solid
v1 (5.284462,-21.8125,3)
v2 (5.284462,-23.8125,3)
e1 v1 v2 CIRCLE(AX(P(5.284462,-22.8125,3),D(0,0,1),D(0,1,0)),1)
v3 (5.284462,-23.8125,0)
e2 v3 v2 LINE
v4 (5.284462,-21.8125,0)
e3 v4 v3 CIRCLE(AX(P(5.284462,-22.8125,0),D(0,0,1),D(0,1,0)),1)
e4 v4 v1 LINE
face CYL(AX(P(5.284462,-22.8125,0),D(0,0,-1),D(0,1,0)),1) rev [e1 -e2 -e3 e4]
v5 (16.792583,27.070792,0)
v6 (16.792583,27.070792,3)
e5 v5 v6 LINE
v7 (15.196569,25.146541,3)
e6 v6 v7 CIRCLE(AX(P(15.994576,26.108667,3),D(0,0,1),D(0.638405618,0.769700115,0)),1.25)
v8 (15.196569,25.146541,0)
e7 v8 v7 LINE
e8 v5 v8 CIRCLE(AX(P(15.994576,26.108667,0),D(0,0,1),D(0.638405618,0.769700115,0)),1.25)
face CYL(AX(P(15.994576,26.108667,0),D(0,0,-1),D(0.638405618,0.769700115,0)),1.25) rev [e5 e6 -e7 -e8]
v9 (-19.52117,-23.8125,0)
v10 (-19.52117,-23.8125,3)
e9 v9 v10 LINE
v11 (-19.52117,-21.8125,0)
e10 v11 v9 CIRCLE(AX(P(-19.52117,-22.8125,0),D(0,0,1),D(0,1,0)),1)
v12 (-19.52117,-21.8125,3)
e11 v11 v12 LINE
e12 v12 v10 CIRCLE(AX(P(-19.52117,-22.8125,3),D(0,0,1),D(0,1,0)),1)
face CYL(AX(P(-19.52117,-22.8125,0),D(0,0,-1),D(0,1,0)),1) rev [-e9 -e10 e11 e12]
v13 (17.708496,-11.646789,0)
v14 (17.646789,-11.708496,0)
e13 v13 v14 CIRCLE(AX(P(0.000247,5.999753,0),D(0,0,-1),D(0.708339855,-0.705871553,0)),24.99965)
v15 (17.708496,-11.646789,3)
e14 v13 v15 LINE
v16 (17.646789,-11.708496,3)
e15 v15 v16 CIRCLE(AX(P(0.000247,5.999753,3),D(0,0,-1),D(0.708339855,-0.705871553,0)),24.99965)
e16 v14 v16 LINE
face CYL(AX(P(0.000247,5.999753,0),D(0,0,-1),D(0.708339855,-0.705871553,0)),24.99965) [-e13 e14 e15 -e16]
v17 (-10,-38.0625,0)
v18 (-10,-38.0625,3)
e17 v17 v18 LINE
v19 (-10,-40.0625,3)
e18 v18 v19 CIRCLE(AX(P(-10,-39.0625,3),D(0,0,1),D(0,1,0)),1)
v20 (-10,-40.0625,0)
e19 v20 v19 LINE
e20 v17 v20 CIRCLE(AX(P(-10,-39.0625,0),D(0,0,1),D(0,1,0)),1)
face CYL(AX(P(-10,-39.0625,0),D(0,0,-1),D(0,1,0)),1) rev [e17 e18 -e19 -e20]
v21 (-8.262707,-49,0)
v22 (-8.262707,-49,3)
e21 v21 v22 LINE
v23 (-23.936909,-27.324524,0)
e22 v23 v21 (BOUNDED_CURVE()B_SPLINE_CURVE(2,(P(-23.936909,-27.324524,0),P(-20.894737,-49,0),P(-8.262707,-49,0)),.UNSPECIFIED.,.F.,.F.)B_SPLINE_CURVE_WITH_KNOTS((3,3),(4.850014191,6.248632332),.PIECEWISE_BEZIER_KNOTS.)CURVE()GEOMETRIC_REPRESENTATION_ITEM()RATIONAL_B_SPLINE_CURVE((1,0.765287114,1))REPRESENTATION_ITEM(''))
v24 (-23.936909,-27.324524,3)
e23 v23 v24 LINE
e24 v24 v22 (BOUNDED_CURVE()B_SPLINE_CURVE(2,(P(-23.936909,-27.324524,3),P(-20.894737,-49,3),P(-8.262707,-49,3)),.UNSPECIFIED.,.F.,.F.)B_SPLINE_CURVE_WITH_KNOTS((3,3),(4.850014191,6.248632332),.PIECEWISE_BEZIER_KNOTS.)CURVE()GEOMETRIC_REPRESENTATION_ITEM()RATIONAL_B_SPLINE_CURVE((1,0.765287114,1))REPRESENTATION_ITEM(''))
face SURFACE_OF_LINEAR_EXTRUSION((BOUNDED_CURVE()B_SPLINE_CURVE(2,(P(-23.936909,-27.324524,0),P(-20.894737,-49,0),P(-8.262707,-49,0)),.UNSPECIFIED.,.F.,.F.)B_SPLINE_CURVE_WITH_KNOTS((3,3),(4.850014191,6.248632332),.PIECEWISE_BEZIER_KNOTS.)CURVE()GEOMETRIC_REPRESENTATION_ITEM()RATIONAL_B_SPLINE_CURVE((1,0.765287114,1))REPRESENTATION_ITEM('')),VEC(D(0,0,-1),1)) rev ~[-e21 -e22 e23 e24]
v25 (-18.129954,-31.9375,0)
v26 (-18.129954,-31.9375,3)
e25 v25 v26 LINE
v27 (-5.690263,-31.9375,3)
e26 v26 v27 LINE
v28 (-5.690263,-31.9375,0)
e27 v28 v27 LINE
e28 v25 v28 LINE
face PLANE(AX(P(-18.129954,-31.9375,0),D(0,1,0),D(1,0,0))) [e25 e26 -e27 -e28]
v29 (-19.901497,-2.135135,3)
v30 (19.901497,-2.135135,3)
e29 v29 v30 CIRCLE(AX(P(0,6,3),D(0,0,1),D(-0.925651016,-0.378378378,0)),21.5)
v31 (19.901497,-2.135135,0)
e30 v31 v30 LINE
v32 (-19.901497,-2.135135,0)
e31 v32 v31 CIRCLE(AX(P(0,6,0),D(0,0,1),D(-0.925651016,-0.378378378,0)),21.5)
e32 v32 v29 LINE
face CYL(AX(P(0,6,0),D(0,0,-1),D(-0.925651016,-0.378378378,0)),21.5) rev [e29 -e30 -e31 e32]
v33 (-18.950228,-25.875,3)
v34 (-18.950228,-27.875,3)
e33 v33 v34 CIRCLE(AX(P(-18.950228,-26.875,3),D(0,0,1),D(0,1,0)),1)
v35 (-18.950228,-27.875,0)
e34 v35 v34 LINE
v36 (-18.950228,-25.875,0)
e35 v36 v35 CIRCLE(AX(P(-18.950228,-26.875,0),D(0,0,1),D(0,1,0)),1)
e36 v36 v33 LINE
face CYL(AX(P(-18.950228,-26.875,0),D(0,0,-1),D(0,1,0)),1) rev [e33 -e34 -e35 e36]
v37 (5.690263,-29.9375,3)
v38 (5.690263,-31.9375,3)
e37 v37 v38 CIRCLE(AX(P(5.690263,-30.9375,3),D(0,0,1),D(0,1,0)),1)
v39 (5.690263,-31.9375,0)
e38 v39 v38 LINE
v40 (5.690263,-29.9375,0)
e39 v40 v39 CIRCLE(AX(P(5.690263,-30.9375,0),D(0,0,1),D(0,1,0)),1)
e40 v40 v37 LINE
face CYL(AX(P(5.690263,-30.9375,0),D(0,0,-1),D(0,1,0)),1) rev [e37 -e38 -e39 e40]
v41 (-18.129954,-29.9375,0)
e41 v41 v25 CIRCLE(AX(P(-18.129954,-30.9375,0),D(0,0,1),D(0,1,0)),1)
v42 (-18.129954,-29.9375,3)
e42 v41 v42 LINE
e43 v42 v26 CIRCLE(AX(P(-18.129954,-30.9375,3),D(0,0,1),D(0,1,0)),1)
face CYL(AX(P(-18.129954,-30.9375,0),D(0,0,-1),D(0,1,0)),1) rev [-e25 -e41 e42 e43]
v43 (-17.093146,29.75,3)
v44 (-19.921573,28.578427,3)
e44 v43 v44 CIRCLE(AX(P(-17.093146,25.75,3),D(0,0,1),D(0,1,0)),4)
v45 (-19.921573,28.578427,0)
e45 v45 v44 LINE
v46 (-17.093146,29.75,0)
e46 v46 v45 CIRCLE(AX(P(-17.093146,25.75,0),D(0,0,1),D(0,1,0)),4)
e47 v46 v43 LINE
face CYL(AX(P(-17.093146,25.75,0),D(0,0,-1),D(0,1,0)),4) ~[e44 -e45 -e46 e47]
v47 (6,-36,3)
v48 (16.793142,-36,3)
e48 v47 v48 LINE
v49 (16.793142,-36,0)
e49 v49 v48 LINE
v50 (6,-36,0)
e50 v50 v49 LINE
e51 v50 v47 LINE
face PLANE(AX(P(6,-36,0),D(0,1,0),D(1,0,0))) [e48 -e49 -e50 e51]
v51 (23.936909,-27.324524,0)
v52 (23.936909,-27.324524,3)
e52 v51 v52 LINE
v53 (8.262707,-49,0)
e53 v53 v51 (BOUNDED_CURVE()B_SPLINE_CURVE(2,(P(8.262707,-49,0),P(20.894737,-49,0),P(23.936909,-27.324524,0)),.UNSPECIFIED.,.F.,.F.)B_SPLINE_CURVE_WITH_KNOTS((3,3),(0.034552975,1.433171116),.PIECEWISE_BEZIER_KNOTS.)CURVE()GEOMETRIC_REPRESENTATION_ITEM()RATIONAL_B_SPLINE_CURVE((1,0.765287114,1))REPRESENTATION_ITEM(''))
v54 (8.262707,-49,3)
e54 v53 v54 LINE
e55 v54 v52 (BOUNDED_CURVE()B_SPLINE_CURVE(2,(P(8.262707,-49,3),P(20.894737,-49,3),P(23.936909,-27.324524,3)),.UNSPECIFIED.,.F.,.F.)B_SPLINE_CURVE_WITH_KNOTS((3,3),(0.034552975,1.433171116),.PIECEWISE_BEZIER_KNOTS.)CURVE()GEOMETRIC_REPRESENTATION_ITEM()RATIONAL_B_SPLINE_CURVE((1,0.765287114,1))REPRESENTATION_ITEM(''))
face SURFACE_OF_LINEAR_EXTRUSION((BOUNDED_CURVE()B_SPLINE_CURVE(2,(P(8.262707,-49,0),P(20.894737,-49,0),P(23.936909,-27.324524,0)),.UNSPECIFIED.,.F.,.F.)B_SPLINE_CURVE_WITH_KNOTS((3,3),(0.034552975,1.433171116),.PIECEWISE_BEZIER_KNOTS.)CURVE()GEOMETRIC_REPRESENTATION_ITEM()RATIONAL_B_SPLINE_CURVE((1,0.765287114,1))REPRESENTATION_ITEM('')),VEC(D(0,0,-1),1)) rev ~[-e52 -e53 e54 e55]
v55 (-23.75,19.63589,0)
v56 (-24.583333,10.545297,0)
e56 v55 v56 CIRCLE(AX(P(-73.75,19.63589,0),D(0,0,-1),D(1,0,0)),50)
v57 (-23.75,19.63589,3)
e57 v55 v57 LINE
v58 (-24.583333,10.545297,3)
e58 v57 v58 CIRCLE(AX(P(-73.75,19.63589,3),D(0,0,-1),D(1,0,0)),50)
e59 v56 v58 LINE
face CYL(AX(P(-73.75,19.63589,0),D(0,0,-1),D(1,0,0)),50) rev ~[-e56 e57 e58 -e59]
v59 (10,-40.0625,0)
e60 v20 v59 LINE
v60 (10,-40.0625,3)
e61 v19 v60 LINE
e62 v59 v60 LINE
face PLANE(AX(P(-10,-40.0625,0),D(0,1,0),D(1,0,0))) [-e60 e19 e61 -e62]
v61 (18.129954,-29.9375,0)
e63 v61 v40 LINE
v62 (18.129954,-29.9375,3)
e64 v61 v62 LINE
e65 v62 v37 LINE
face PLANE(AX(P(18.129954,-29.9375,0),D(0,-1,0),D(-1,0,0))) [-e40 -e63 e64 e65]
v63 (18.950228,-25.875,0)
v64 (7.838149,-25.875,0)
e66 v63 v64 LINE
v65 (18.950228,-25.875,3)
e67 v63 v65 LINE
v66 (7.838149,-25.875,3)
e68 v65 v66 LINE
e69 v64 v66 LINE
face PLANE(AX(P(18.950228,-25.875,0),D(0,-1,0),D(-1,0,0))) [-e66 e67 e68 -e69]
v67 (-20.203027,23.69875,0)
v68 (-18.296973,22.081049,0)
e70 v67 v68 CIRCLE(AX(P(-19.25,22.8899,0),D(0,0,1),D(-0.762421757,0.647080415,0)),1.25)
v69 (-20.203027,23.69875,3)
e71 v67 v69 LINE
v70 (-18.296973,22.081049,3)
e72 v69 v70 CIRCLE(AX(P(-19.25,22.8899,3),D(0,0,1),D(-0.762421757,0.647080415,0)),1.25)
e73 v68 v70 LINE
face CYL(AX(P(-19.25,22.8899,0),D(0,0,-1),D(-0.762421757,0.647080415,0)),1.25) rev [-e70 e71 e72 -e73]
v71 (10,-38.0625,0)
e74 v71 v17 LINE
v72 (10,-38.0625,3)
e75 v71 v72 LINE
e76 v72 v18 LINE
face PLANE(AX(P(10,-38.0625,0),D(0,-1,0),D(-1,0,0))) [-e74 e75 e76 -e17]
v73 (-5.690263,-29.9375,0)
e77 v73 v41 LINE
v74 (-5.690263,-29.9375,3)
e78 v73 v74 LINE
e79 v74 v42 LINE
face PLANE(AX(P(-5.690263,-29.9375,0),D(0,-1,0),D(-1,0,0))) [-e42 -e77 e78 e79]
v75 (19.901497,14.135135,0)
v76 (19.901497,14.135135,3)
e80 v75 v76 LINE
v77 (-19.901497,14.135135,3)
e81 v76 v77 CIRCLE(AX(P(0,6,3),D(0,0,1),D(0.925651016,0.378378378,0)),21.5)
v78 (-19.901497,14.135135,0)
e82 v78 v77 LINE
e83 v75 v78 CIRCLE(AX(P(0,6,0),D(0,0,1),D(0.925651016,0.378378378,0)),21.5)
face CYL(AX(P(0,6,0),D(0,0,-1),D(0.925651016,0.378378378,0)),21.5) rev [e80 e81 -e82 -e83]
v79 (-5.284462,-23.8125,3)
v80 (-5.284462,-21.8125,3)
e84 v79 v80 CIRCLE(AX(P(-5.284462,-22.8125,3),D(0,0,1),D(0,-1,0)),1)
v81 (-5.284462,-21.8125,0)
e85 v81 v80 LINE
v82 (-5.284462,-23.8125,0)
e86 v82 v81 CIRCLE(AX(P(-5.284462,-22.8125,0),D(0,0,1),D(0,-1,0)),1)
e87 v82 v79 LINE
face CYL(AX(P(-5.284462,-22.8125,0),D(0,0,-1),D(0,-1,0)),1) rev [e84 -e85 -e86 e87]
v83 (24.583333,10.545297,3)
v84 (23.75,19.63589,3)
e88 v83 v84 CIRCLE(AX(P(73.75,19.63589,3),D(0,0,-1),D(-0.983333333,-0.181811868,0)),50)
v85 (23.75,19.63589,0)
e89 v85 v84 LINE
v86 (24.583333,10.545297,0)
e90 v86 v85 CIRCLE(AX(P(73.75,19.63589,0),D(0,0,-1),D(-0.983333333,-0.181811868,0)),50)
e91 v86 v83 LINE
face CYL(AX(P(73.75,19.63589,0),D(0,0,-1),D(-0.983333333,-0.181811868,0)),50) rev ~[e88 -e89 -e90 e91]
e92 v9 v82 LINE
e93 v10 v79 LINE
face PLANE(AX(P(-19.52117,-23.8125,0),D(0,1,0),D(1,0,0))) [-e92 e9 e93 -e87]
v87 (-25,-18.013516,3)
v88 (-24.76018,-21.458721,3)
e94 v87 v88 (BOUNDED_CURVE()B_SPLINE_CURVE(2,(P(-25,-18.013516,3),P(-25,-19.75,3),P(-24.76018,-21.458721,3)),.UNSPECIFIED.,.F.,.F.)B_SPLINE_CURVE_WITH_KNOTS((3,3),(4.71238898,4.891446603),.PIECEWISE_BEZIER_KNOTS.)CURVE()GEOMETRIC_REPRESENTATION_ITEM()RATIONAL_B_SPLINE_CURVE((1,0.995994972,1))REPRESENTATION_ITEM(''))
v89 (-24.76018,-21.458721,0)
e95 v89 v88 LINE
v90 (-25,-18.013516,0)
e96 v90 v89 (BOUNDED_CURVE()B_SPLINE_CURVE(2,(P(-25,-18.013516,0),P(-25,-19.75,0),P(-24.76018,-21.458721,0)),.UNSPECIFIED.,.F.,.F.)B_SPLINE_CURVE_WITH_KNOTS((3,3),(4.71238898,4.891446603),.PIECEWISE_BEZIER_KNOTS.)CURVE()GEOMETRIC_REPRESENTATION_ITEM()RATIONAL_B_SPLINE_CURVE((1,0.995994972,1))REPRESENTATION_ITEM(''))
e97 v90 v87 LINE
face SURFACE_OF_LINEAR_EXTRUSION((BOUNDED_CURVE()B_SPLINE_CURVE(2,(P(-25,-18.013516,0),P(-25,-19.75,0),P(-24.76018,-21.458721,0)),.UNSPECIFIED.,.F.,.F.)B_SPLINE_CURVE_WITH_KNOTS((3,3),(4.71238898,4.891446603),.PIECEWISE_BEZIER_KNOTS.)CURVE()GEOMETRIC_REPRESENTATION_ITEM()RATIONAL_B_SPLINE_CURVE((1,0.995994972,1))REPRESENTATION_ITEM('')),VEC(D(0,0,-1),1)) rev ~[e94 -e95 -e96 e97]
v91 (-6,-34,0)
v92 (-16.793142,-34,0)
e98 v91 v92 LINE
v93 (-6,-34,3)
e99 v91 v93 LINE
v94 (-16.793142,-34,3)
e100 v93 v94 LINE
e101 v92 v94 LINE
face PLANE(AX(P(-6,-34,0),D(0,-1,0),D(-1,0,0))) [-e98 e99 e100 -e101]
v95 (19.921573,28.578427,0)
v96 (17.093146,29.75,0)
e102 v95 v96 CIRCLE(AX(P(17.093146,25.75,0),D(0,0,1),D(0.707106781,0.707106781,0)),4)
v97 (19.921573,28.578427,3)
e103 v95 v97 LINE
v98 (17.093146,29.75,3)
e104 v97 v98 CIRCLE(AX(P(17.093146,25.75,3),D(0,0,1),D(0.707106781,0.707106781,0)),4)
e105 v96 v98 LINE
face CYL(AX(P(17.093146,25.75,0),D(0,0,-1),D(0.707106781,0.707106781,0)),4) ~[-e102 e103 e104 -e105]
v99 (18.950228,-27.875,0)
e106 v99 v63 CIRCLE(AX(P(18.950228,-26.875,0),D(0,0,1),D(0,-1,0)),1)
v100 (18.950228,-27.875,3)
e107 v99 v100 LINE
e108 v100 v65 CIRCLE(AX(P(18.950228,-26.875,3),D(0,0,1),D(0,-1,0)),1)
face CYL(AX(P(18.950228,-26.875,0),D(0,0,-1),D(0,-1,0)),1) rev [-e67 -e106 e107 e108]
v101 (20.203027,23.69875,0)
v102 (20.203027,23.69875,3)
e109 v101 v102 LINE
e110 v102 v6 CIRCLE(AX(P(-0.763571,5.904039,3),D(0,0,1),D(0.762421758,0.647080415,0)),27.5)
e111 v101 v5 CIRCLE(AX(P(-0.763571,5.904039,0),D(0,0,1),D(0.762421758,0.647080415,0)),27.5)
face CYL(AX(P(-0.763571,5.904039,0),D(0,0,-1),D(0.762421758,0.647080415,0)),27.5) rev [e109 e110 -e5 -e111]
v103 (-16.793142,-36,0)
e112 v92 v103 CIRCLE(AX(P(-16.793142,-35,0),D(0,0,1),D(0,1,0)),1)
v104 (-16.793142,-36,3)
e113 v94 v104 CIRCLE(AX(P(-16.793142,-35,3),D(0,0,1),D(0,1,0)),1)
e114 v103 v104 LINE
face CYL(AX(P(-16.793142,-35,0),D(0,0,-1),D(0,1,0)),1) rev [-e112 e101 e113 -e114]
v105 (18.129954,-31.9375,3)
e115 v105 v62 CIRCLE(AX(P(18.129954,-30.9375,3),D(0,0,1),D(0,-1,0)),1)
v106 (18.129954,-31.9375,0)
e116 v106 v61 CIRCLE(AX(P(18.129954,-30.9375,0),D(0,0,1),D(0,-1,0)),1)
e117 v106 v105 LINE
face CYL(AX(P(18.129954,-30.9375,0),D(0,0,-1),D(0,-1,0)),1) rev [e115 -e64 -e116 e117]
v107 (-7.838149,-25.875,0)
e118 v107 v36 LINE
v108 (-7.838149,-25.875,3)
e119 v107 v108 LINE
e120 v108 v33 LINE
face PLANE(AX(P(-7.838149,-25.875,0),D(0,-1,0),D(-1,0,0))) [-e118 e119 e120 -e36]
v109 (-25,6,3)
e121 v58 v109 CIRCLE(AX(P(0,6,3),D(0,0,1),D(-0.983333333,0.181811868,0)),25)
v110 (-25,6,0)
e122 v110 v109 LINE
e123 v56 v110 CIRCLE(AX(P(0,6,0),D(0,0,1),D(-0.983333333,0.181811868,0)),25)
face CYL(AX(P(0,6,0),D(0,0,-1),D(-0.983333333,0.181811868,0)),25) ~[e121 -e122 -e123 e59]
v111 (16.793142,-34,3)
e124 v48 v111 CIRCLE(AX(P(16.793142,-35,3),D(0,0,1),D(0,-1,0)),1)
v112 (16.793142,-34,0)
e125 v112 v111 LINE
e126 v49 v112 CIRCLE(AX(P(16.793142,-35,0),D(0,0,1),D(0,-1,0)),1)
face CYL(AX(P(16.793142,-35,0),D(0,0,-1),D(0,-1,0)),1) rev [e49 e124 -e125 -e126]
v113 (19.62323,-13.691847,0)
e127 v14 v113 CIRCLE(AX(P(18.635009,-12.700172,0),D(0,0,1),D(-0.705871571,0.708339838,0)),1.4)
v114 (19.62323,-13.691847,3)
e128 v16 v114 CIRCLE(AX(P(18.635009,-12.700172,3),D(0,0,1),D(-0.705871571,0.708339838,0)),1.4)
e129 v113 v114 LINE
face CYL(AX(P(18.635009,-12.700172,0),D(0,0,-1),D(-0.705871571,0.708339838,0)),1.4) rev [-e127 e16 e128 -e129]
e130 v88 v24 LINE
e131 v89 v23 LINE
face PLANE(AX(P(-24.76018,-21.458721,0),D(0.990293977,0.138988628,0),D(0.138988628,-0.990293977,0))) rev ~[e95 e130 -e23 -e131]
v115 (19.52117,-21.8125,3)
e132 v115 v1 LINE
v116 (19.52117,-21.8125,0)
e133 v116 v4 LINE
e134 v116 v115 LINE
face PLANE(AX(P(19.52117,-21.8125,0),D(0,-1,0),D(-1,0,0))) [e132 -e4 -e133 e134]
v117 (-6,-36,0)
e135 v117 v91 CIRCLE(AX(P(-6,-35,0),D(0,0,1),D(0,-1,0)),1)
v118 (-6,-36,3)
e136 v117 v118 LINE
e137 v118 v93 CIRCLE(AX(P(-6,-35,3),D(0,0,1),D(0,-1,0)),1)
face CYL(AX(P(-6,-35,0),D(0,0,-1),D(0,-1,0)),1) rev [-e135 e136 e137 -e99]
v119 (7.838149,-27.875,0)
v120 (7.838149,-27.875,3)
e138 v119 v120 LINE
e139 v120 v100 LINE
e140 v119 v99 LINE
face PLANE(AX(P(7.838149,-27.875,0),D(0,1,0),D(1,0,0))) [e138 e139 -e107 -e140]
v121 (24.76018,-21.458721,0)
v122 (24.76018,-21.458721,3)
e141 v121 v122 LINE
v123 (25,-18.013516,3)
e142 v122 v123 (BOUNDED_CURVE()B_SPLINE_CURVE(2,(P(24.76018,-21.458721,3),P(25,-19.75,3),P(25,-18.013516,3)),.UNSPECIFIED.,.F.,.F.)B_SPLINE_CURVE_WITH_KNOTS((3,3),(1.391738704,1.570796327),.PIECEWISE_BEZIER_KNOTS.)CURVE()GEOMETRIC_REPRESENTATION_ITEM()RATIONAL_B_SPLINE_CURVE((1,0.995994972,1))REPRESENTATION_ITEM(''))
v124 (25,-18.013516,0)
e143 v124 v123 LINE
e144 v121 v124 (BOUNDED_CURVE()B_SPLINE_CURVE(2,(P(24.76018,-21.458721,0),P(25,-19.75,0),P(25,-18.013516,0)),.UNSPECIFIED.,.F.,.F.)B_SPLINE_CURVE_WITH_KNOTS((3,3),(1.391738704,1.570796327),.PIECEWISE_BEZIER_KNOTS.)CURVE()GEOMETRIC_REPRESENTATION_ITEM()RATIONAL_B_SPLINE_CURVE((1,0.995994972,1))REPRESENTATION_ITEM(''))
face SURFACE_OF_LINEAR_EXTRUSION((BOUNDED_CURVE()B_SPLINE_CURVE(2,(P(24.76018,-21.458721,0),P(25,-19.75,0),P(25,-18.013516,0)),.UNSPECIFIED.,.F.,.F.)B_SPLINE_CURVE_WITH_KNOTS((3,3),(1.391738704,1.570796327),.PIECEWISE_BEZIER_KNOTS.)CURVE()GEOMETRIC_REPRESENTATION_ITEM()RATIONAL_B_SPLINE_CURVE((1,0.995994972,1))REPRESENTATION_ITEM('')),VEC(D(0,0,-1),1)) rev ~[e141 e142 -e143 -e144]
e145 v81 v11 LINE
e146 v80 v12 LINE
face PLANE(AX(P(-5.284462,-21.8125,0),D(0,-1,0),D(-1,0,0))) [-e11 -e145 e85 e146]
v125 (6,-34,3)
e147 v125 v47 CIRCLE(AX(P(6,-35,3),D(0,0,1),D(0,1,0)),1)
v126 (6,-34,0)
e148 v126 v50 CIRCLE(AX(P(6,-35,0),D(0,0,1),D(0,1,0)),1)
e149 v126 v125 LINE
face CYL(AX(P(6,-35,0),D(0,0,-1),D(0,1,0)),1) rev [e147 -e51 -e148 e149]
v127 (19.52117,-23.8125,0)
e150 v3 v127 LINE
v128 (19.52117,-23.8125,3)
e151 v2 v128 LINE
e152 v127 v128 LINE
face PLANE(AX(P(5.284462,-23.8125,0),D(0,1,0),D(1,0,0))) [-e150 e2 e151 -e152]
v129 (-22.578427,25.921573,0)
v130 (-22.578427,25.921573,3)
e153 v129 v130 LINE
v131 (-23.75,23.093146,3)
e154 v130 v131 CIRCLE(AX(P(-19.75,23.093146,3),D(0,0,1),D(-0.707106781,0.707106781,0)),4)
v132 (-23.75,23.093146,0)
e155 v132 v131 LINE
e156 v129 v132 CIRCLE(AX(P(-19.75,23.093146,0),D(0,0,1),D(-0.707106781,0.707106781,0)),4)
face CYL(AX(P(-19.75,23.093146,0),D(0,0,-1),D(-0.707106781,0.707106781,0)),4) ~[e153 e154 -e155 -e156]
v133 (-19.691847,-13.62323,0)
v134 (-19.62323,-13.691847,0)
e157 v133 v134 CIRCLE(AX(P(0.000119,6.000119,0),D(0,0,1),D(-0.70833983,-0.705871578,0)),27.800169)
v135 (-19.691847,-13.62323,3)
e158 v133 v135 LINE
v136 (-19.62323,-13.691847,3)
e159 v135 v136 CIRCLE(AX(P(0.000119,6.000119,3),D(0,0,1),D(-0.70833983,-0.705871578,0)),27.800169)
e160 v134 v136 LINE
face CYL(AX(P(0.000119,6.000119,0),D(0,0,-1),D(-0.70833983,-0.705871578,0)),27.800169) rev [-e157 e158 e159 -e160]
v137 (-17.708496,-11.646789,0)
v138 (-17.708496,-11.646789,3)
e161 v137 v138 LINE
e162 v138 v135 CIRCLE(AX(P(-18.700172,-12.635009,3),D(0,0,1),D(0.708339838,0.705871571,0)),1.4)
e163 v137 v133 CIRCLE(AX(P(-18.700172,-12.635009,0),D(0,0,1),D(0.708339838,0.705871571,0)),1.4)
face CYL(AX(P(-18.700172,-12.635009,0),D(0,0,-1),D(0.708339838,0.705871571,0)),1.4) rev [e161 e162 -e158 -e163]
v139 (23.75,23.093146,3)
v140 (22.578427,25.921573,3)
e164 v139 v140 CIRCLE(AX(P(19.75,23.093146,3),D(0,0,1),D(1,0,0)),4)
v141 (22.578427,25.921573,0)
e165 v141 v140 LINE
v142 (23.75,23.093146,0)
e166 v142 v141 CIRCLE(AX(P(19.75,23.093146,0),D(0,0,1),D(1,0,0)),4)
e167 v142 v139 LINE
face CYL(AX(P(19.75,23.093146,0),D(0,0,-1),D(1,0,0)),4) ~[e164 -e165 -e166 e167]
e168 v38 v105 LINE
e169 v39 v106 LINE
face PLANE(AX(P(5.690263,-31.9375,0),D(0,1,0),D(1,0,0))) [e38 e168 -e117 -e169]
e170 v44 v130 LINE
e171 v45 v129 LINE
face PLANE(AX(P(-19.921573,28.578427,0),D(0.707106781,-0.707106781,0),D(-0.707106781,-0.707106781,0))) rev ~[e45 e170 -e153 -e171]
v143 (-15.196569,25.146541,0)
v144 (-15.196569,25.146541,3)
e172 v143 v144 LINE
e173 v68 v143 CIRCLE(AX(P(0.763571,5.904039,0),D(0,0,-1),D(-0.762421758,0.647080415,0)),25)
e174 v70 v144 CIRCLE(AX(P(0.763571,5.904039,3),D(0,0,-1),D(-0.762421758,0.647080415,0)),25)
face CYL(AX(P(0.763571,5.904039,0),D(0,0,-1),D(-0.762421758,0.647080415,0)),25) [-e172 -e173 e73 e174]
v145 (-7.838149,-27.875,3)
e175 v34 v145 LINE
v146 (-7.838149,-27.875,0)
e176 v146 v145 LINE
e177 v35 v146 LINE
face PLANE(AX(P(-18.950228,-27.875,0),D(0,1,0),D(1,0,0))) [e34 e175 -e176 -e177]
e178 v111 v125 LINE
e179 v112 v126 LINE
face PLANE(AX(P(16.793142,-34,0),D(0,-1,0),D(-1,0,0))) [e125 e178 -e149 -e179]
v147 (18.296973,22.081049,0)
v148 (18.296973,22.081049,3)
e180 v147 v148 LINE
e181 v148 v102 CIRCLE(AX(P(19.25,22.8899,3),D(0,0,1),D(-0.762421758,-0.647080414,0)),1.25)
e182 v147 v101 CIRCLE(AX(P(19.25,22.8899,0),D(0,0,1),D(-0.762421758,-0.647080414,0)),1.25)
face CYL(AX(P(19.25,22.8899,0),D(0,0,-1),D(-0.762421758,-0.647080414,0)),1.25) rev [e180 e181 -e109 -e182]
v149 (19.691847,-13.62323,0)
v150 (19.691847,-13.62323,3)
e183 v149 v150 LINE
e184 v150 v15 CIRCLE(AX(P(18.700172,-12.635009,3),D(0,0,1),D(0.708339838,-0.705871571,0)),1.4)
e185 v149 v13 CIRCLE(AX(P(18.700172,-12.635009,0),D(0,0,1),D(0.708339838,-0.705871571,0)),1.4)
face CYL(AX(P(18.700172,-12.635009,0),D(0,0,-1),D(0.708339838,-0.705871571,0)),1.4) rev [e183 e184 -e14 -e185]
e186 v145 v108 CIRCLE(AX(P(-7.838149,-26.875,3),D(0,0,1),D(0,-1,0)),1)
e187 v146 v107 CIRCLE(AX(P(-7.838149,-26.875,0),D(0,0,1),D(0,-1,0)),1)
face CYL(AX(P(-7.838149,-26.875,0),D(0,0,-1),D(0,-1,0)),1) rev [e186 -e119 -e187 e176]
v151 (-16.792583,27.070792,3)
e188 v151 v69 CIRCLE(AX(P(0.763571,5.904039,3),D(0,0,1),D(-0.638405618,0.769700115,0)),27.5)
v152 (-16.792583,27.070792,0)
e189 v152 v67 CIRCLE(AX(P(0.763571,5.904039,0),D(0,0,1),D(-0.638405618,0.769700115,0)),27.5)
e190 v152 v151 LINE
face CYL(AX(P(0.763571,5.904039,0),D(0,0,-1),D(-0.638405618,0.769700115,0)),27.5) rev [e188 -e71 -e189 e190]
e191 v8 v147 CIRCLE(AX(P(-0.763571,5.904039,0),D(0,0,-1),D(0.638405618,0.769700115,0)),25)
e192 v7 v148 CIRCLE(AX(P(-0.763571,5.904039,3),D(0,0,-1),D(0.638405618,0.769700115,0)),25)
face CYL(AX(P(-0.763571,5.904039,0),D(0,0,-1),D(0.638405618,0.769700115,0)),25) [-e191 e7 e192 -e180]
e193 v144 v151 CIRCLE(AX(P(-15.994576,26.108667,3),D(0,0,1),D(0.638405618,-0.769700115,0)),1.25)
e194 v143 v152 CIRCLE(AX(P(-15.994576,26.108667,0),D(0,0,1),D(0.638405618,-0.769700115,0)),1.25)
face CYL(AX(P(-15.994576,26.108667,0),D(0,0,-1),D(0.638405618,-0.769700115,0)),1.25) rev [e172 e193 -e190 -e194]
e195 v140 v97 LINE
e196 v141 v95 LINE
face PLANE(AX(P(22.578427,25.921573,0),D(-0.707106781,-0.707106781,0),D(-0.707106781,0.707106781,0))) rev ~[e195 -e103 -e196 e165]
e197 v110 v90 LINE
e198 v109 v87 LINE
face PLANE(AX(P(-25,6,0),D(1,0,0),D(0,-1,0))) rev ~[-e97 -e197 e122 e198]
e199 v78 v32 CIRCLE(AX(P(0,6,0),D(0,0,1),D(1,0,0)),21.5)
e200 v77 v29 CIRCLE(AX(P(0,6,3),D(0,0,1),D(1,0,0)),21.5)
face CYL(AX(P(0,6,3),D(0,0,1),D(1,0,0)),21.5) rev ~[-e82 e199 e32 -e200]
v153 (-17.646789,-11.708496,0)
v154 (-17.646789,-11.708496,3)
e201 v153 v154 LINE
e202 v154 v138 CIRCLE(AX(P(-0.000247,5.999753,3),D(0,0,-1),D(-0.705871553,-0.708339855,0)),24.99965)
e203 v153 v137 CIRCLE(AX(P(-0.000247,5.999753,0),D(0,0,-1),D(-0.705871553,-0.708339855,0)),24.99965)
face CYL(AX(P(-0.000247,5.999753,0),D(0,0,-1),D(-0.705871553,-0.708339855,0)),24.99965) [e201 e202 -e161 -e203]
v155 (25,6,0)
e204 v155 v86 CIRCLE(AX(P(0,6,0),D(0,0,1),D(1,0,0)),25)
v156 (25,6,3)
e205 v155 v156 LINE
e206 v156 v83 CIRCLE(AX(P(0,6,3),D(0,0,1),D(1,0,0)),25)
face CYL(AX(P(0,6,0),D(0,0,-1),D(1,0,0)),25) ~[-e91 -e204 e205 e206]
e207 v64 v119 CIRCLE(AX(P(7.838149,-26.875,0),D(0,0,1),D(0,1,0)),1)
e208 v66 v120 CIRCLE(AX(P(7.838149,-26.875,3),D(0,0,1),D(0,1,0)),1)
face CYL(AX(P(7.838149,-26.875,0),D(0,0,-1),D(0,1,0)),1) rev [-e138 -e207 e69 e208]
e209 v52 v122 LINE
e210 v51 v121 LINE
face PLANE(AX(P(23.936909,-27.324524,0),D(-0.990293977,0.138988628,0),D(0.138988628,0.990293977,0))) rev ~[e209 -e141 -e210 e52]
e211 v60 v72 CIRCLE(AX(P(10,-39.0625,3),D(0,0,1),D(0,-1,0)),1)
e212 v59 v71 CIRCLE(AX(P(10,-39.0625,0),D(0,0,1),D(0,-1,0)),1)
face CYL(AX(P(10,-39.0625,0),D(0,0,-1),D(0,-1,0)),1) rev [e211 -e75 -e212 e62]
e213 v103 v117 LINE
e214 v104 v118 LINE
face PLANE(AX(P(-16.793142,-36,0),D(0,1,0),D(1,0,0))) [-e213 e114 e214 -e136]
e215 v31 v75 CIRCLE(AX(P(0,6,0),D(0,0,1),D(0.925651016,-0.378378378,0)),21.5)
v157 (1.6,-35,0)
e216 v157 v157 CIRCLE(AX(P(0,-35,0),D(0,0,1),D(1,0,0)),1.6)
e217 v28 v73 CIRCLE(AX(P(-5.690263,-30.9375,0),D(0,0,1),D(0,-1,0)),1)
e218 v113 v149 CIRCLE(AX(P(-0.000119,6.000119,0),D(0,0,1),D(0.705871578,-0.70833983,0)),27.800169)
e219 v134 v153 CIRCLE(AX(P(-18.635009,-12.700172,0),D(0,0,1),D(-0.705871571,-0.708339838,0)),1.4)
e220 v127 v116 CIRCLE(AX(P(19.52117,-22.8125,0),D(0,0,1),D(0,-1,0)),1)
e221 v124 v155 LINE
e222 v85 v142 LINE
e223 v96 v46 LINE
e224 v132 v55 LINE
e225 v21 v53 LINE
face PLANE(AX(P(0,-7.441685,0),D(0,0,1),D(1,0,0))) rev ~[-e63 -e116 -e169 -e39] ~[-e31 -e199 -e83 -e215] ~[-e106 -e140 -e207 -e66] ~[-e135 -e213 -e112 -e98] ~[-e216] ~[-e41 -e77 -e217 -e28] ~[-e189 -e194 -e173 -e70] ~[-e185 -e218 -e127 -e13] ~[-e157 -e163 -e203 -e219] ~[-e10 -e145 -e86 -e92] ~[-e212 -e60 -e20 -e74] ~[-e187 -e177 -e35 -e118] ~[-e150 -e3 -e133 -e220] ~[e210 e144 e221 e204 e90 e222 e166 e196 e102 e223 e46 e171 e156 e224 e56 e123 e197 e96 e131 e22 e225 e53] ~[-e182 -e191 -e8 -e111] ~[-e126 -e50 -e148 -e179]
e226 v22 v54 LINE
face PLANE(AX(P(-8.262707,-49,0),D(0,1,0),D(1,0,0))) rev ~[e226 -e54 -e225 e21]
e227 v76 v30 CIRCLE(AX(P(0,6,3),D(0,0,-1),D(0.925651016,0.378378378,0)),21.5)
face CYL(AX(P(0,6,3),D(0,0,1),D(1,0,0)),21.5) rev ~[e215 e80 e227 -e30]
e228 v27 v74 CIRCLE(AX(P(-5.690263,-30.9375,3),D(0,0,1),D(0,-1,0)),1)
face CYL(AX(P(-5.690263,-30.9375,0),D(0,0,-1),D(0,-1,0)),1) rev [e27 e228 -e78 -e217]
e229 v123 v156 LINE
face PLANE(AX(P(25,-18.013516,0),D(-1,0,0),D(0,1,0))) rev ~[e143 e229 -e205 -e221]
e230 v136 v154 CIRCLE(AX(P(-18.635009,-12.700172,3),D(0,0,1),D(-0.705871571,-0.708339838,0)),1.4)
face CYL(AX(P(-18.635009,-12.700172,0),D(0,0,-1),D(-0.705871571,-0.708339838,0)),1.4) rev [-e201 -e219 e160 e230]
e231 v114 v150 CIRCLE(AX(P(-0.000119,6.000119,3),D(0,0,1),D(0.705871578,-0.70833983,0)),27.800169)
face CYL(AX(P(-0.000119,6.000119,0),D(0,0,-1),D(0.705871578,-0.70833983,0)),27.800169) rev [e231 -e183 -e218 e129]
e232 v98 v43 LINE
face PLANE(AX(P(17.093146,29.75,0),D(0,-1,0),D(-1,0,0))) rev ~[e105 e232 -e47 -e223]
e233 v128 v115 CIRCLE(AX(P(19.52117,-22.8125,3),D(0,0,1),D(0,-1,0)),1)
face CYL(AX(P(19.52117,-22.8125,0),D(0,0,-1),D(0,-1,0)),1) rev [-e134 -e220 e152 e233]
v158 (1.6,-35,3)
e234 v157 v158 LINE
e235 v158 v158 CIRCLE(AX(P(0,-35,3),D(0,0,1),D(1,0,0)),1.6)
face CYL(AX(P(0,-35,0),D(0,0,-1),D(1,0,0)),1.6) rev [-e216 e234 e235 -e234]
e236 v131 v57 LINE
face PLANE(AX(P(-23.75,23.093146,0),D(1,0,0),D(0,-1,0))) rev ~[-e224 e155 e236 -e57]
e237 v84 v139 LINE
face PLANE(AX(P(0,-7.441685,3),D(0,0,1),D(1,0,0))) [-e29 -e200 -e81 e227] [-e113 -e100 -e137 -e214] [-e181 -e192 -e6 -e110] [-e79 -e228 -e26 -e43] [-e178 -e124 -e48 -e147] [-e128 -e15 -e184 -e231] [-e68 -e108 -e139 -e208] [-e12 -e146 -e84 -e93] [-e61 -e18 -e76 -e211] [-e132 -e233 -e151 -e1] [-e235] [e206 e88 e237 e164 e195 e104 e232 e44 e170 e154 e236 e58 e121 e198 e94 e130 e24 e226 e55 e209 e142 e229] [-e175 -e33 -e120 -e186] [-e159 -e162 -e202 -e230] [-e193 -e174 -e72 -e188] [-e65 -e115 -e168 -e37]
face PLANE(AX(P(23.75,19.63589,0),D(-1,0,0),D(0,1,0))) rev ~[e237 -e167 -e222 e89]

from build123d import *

# Parameters (mm, degrees)
SKETCH1_R           = 1.6
SKETCH1_R_2         = 1.25
SKETCH1_R_3         = 4
BOSS_EXTRUDE1_DEPTH = 3
SKETCH2_R           = 21.5
CUT_EXTRUDE1_DEPTH  = 56.090834223


with BuildPart() as part:
    # Sketch1 → Boss-Extrude1 (new body)
    with BuildSketch(Plane.XY):
        with BuildLine():
            add(Edge.make_bspline(
                [(-23.936908844, -27.324524486), (-20.894736842, -49), (-8.26270655, -49)],
                knots=[1.708421538, 1.708421538, 1.708421538, 3.107039678, 3.107039678, 3.107039678], degree=2, weights=[1, 0.765287114, 1]))
            Line((-8.26270655, -49), (8.26270655, -49))
            add(Edge.make_bspline(
                [(8.26270655, -49), (20.894736842, -49), (23.936908844, -27.324524486)],
                knots=[0.034552975, 0.034552975, 0.034552975, 1.433171116, 1.433171116, 1.433171116], degree=2, weights=[1, 0.765287114, 1]))
            Line((23.936908844, -27.324524486), (24.760179539, -21.458720786))
            add(Edge.make_bspline(
                [(24.760179539, -21.458720786), (25, -19.75), (25, -18.013516259)],
                knots=[1.391738704, 1.391738704, 1.391738704, 1.570796327, 1.570796327, 1.570796327], degree=2, weights=[1, 0.995994972, 1]))
            Line((25, -18.013516259), (25, 6))
            ThreePointArc((25, 6), (24.89561541, 8.282177323), (24.583333333, 10.545296714))
            ThreePointArc((24.583333333, 10.545296714), (23.958769179, 15.071535497), (23.75, 19.635890143))
            Line((23.75, 19.635890143), (23.75, 23.093145751))
            ThreePointArc((23.75, 23.093145751), (23.44551813, 24.62387948), (22.578427125, 25.921572875))
            Line((22.578427125, 25.921572875), (19.921572875, 28.578427125))
            ThreePointArc((19.921572875, 28.578427125), (18.62387948, 29.44551813), (17.093145751, 29.75))
            Line((17.093145751, 29.75), (-17.093145751, 29.75))
            ThreePointArc((-17.093145751, 29.75), (-18.62387948, 29.44551813), (-19.921572875, 28.578427125))
            Line((-19.921572875, 28.578427125), (-22.578427125, 25.921572875))
            ThreePointArc((-22.578427125, 25.921572875), (-23.44551813, 24.62387948), (-23.75, 23.093145751))
            Line((-23.75, 23.093145751), (-23.75, 19.635890143))
            ThreePointArc((-23.75, 19.635890143), (-23.958769179, 15.071535497), (-24.583333333, 10.545296714))
            ThreePointArc((-24.583333333, 10.545296714), (-24.89561541, 8.282177323), (-25, 6))
            Line((-25, 6), (-25, -18.013516259))
            add(Edge.make_bspline(
                [(-25, -18.013516259), (-25, -19.75), (-24.760179539, -21.458720786)],
                knots=[4.71238898, 4.71238898, 4.71238898, 4.891446603, 4.891446603, 4.891446603], degree=2, weights=[1, 0.995994972, 1]))
            Line((-24.760179539, -21.458720786), (-23.936908844, -27.324524486))
        make_face()
        with BuildLine():
            Line((-16.793141988, -34), (-6, -34))
            ThreePointArc((-6, -34), (-5, -35), (-6, -36))
            Line((-6, -36), (-16.793141988, -36))
            ThreePointArc((-16.793141988, -36), (-17.793141988, -35), (-16.793141988, -34))
        make_face(mode=Mode.SUBTRACT)
        with BuildLine():
            Line((-18.129953736, -29.9375), (-5.690263266, -29.9375))
            ThreePointArc((-5.690263266, -29.9375), (-4.690263266, -30.9375), (-5.690263266, -31.9375))
            Line((-5.690263266, -31.9375), (-18.129953736, -31.9375))
            ThreePointArc((-18.129953736, -31.9375), (-19.129953736, -30.9375), (-18.129953736, -29.9375))
        make_face(mode=Mode.SUBTRACT)
        with BuildLine():
            Line((10, -40.0625), (-10, -40.0625))
            ThreePointArc((-10, -40.0625), (-11, -39.0625), (-10, -38.0625))
            Line((-10, -38.0625), (10, -38.0625))
            ThreePointArc((10, -38.0625), (11, -39.0625), (10, -40.0625))
        make_face(mode=Mode.SUBTRACT)
        with Locations((0, -35)):
            Circle(SKETCH1_R, mode=Mode.SUBTRACT)
        with BuildLine():
            Line((-18.950227736, -25.875), (-7.838149252, -25.875))
            ThreePointArc((-7.838149252, -25.875), (-6.838149252, -26.875), (-7.838149252, -27.875))
            Line((-7.838149252, -27.875), (-18.950227736, -27.875))
            ThreePointArc((-18.950227736, -27.875), (-19.950227736, -26.875), (-18.950227736, -25.875))
        make_face(mode=Mode.SUBTRACT)
        with BuildLine():
            ThreePointArc((-19.623229665, -13.691847489), (-19.657568517, -13.657568517), (-19.691847489, -13.623229665))
            ThreePointArc((-19.691847489, -13.623229665), (-19.688391915, -11.643333693), (-17.708495943, -11.646789267))
            ThreePointArc((-17.708495943, -11.646789267), (-17.67766953, -11.67766953), (-17.646789267, -11.708495943))
            ThreePointArc((-17.646789267, -11.708495943), (-17.643333693, -13.688391915), (-19.623229665, -13.691847489))
        make_face(mode=Mode.SUBTRACT)
        with BuildLine():
            Line((-19.521169673, -21.8125), (-5.284461571, -21.8125))
            ThreePointArc((-5.284461571, -21.8125), (-4.284461571, -22.8125), (-5.284461571, -23.8125))
            Line((-5.284461571, -23.8125), (-19.521169673, -23.8125))
            ThreePointArc((-19.521169673, -23.8125), (-20.521169673, -22.8125), (-19.521169673, -21.8125))
        make_face(mode=Mode.SUBTRACT)
        with BuildLine():
            Line((16.793141988, -36), (6, -36))
            ThreePointArc((6, -36), (5, -35), (6, -34))
            Line((6, -34), (16.793141988, -34))
            ThreePointArc((16.793141988, -34), (17.793141988, -35), (16.793141988, -36))
        make_face(mode=Mode.SUBTRACT)
        with BuildLine():
            Line((18.129953736, -31.9375), (5.690263266, -31.9375))
            ThreePointArc((5.690263266, -31.9375), (4.690263266, -30.9375), (5.690263266, -29.9375))
            Line((5.690263266, -29.9375), (18.129953736, -29.9375))
            ThreePointArc((18.129953736, -29.9375), (19.129953736, -30.9375), (18.129953736, -31.9375))
        make_face(mode=Mode.SUBTRACT)
        with BuildLine():
            Line((19.521169673, -23.8125), (5.284461571, -23.8125))
            ThreePointArc((5.284461571, -23.8125), (4.284461571, -22.8125), (5.284461571, -21.8125))
            Line((5.284461571, -21.8125), (19.521169673, -21.8125))
            ThreePointArc((19.521169673, -21.8125), (20.521169673, -22.8125), (19.521169673, -23.8125))
        make_face(mode=Mode.SUBTRACT)
        with BuildLine():
            Line((18.950227736, -27.875), (7.838149252, -27.875))
            ThreePointArc((7.838149252, -27.875), (6.838149252, -26.875), (7.838149252, -25.875))
            Line((7.838149252, -25.875), (18.950227736, -25.875))
            ThreePointArc((18.950227736, -25.875), (19.950227736, -26.875), (18.950227736, -27.875))
        make_face(mode=Mode.SUBTRACT)
        with BuildLine():
            ThreePointArc((19.623229665, -13.691847489), (17.643333693, -13.688391915), (17.646789267, -11.708495943))
            ThreePointArc((17.646789267, -11.708495943), (17.67766953, -11.67766953), (17.708495943, -11.646789267))
            ThreePointArc((17.708495943, -11.646789267), (19.688391915, -11.643333693), (19.691847489, -13.623229665))
            ThreePointArc((19.691847489, -13.623229665), (19.657568517, -13.657568517), (19.623229665, -13.691847489))
        make_face(mode=Mode.SUBTRACT)
        with BuildLine():
            Line((12.412191587, 2), (17.12454379, 2))
            ThreePointArc((17.12454379, 2), (19.615066366, 0.672512271), (19.901496836, -2.135135135))
            ThreePointArc((19.901496836, -2.135135135), (0, -15.5), (-19.901496836, -2.135135135))
            ThreePointArc((-19.901496836, -2.135135135), (-19.615066366, 0.672512271), (-17.12454379, 2))
            Line((-17.12454379, 2), (-12.412191587, 2))
            ThreePointArc((-12.412191587, 2), (-10.899090902, 1.590468358), (-9.799098622, 0.473684211))
            ThreePointArc((-9.799098622, 0.473684211), (0, -5.25), (9.799098622, 0.473684211))
            ThreePointArc((9.799098622, 0.473684211), (10.899090902, 1.590468358), (12.412191587, 2))
        make_face(mode=Mode.SUBTRACT)
        with Locations((-6.257723989, 7.758092853)):
            Circle(SKETCH1_R_2, mode=Mode.SUBTRACT)
        with Locations((0, 6)):
            Circle(SKETCH1_R_3, mode=Mode.SUBTRACT)
        with BuildLine():
            ThreePointArc((-16.792583358, 27.070791775), (-15.032451192, 26.906673654), (-15.196569313, 25.146541488))
            ThreePointArc((-15.196569313, 25.146541488), (-16.813726575, 23.681513271), (-18.296972803, 22.081048991))
            ThreePointArc((-18.296972803, 22.081048991), (-20.058850519, 21.936872312), (-20.203027197, 23.698750028))
            ThreePointArc((-20.203027197, 23.698750028), (-18.571456346, 25.459260737), (-16.792583358, 27.070791775))
        make_face(mode=Mode.SUBTRACT)
        with BuildLine():
            Line((17.12454379, 10), (12.412191587, 10))
            ThreePointArc((12.412191587, 10), (10.899090902, 10.409531642), (9.799098622, 11.526315789))
            ThreePointArc((9.799098622, 11.526315789), (0, 17.25), (-9.799098622, 11.526315789))
            ThreePointArc((-9.799098622, 11.526315789), (-10.899090902, 10.409531642), (-12.412191587, 10))
            Line((-12.412191587, 10), (-17.12454379, 10))
            ThreePointArc((-17.12454379, 10), (-19.615066366, 11.327487729), (-19.901496836, 14.135135135))
            ThreePointArc((-19.901496836, 14.135135135), (0, 27.5), (19.901496836, 14.135135135))
            ThreePointArc((19.901496836, 14.135135135), (19.615066366, 11.327487729), (17.12454379, 10))
        make_face(mode=Mode.SUBTRACT)
        with Locations((6.257723989, 4.241907147)):
            Circle(SKETCH1_R_2, mode=Mode.SUBTRACT)
        with BuildLine():
            ThreePointArc((20.203027197, 23.698750028), (20.058850519, 21.936872312), (18.296972803, 22.081048991))
            ThreePointArc((18.296972803, 22.081048991), (16.813726575, 23.681513271), (15.196569313, 25.146541488))
            ThreePointArc((15.196569313, 25.146541488), (15.032451192, 26.906673654), (16.792583358, 27.070791775))
            ThreePointArc((16.792583358, 27.070791775), (18.571456346, 25.459260737), (20.203027197, 23.698750028))
        make_face(mode=Mode.SUBTRACT)
    extrude(amount=BOSS_EXTRUDE1_DEPTH)

    # Sketch2 → Cut-Extrude1 (cut, through all)
    with BuildSketch(Plane.XY.offset(3)):
        with Locations((0, 6)):
            Circle(SKETCH2_R)
    extrude(amount=-CUT_EXTRUDE1_DEPTH, mode=Mode.SUBTRACT)


solid = part.part
